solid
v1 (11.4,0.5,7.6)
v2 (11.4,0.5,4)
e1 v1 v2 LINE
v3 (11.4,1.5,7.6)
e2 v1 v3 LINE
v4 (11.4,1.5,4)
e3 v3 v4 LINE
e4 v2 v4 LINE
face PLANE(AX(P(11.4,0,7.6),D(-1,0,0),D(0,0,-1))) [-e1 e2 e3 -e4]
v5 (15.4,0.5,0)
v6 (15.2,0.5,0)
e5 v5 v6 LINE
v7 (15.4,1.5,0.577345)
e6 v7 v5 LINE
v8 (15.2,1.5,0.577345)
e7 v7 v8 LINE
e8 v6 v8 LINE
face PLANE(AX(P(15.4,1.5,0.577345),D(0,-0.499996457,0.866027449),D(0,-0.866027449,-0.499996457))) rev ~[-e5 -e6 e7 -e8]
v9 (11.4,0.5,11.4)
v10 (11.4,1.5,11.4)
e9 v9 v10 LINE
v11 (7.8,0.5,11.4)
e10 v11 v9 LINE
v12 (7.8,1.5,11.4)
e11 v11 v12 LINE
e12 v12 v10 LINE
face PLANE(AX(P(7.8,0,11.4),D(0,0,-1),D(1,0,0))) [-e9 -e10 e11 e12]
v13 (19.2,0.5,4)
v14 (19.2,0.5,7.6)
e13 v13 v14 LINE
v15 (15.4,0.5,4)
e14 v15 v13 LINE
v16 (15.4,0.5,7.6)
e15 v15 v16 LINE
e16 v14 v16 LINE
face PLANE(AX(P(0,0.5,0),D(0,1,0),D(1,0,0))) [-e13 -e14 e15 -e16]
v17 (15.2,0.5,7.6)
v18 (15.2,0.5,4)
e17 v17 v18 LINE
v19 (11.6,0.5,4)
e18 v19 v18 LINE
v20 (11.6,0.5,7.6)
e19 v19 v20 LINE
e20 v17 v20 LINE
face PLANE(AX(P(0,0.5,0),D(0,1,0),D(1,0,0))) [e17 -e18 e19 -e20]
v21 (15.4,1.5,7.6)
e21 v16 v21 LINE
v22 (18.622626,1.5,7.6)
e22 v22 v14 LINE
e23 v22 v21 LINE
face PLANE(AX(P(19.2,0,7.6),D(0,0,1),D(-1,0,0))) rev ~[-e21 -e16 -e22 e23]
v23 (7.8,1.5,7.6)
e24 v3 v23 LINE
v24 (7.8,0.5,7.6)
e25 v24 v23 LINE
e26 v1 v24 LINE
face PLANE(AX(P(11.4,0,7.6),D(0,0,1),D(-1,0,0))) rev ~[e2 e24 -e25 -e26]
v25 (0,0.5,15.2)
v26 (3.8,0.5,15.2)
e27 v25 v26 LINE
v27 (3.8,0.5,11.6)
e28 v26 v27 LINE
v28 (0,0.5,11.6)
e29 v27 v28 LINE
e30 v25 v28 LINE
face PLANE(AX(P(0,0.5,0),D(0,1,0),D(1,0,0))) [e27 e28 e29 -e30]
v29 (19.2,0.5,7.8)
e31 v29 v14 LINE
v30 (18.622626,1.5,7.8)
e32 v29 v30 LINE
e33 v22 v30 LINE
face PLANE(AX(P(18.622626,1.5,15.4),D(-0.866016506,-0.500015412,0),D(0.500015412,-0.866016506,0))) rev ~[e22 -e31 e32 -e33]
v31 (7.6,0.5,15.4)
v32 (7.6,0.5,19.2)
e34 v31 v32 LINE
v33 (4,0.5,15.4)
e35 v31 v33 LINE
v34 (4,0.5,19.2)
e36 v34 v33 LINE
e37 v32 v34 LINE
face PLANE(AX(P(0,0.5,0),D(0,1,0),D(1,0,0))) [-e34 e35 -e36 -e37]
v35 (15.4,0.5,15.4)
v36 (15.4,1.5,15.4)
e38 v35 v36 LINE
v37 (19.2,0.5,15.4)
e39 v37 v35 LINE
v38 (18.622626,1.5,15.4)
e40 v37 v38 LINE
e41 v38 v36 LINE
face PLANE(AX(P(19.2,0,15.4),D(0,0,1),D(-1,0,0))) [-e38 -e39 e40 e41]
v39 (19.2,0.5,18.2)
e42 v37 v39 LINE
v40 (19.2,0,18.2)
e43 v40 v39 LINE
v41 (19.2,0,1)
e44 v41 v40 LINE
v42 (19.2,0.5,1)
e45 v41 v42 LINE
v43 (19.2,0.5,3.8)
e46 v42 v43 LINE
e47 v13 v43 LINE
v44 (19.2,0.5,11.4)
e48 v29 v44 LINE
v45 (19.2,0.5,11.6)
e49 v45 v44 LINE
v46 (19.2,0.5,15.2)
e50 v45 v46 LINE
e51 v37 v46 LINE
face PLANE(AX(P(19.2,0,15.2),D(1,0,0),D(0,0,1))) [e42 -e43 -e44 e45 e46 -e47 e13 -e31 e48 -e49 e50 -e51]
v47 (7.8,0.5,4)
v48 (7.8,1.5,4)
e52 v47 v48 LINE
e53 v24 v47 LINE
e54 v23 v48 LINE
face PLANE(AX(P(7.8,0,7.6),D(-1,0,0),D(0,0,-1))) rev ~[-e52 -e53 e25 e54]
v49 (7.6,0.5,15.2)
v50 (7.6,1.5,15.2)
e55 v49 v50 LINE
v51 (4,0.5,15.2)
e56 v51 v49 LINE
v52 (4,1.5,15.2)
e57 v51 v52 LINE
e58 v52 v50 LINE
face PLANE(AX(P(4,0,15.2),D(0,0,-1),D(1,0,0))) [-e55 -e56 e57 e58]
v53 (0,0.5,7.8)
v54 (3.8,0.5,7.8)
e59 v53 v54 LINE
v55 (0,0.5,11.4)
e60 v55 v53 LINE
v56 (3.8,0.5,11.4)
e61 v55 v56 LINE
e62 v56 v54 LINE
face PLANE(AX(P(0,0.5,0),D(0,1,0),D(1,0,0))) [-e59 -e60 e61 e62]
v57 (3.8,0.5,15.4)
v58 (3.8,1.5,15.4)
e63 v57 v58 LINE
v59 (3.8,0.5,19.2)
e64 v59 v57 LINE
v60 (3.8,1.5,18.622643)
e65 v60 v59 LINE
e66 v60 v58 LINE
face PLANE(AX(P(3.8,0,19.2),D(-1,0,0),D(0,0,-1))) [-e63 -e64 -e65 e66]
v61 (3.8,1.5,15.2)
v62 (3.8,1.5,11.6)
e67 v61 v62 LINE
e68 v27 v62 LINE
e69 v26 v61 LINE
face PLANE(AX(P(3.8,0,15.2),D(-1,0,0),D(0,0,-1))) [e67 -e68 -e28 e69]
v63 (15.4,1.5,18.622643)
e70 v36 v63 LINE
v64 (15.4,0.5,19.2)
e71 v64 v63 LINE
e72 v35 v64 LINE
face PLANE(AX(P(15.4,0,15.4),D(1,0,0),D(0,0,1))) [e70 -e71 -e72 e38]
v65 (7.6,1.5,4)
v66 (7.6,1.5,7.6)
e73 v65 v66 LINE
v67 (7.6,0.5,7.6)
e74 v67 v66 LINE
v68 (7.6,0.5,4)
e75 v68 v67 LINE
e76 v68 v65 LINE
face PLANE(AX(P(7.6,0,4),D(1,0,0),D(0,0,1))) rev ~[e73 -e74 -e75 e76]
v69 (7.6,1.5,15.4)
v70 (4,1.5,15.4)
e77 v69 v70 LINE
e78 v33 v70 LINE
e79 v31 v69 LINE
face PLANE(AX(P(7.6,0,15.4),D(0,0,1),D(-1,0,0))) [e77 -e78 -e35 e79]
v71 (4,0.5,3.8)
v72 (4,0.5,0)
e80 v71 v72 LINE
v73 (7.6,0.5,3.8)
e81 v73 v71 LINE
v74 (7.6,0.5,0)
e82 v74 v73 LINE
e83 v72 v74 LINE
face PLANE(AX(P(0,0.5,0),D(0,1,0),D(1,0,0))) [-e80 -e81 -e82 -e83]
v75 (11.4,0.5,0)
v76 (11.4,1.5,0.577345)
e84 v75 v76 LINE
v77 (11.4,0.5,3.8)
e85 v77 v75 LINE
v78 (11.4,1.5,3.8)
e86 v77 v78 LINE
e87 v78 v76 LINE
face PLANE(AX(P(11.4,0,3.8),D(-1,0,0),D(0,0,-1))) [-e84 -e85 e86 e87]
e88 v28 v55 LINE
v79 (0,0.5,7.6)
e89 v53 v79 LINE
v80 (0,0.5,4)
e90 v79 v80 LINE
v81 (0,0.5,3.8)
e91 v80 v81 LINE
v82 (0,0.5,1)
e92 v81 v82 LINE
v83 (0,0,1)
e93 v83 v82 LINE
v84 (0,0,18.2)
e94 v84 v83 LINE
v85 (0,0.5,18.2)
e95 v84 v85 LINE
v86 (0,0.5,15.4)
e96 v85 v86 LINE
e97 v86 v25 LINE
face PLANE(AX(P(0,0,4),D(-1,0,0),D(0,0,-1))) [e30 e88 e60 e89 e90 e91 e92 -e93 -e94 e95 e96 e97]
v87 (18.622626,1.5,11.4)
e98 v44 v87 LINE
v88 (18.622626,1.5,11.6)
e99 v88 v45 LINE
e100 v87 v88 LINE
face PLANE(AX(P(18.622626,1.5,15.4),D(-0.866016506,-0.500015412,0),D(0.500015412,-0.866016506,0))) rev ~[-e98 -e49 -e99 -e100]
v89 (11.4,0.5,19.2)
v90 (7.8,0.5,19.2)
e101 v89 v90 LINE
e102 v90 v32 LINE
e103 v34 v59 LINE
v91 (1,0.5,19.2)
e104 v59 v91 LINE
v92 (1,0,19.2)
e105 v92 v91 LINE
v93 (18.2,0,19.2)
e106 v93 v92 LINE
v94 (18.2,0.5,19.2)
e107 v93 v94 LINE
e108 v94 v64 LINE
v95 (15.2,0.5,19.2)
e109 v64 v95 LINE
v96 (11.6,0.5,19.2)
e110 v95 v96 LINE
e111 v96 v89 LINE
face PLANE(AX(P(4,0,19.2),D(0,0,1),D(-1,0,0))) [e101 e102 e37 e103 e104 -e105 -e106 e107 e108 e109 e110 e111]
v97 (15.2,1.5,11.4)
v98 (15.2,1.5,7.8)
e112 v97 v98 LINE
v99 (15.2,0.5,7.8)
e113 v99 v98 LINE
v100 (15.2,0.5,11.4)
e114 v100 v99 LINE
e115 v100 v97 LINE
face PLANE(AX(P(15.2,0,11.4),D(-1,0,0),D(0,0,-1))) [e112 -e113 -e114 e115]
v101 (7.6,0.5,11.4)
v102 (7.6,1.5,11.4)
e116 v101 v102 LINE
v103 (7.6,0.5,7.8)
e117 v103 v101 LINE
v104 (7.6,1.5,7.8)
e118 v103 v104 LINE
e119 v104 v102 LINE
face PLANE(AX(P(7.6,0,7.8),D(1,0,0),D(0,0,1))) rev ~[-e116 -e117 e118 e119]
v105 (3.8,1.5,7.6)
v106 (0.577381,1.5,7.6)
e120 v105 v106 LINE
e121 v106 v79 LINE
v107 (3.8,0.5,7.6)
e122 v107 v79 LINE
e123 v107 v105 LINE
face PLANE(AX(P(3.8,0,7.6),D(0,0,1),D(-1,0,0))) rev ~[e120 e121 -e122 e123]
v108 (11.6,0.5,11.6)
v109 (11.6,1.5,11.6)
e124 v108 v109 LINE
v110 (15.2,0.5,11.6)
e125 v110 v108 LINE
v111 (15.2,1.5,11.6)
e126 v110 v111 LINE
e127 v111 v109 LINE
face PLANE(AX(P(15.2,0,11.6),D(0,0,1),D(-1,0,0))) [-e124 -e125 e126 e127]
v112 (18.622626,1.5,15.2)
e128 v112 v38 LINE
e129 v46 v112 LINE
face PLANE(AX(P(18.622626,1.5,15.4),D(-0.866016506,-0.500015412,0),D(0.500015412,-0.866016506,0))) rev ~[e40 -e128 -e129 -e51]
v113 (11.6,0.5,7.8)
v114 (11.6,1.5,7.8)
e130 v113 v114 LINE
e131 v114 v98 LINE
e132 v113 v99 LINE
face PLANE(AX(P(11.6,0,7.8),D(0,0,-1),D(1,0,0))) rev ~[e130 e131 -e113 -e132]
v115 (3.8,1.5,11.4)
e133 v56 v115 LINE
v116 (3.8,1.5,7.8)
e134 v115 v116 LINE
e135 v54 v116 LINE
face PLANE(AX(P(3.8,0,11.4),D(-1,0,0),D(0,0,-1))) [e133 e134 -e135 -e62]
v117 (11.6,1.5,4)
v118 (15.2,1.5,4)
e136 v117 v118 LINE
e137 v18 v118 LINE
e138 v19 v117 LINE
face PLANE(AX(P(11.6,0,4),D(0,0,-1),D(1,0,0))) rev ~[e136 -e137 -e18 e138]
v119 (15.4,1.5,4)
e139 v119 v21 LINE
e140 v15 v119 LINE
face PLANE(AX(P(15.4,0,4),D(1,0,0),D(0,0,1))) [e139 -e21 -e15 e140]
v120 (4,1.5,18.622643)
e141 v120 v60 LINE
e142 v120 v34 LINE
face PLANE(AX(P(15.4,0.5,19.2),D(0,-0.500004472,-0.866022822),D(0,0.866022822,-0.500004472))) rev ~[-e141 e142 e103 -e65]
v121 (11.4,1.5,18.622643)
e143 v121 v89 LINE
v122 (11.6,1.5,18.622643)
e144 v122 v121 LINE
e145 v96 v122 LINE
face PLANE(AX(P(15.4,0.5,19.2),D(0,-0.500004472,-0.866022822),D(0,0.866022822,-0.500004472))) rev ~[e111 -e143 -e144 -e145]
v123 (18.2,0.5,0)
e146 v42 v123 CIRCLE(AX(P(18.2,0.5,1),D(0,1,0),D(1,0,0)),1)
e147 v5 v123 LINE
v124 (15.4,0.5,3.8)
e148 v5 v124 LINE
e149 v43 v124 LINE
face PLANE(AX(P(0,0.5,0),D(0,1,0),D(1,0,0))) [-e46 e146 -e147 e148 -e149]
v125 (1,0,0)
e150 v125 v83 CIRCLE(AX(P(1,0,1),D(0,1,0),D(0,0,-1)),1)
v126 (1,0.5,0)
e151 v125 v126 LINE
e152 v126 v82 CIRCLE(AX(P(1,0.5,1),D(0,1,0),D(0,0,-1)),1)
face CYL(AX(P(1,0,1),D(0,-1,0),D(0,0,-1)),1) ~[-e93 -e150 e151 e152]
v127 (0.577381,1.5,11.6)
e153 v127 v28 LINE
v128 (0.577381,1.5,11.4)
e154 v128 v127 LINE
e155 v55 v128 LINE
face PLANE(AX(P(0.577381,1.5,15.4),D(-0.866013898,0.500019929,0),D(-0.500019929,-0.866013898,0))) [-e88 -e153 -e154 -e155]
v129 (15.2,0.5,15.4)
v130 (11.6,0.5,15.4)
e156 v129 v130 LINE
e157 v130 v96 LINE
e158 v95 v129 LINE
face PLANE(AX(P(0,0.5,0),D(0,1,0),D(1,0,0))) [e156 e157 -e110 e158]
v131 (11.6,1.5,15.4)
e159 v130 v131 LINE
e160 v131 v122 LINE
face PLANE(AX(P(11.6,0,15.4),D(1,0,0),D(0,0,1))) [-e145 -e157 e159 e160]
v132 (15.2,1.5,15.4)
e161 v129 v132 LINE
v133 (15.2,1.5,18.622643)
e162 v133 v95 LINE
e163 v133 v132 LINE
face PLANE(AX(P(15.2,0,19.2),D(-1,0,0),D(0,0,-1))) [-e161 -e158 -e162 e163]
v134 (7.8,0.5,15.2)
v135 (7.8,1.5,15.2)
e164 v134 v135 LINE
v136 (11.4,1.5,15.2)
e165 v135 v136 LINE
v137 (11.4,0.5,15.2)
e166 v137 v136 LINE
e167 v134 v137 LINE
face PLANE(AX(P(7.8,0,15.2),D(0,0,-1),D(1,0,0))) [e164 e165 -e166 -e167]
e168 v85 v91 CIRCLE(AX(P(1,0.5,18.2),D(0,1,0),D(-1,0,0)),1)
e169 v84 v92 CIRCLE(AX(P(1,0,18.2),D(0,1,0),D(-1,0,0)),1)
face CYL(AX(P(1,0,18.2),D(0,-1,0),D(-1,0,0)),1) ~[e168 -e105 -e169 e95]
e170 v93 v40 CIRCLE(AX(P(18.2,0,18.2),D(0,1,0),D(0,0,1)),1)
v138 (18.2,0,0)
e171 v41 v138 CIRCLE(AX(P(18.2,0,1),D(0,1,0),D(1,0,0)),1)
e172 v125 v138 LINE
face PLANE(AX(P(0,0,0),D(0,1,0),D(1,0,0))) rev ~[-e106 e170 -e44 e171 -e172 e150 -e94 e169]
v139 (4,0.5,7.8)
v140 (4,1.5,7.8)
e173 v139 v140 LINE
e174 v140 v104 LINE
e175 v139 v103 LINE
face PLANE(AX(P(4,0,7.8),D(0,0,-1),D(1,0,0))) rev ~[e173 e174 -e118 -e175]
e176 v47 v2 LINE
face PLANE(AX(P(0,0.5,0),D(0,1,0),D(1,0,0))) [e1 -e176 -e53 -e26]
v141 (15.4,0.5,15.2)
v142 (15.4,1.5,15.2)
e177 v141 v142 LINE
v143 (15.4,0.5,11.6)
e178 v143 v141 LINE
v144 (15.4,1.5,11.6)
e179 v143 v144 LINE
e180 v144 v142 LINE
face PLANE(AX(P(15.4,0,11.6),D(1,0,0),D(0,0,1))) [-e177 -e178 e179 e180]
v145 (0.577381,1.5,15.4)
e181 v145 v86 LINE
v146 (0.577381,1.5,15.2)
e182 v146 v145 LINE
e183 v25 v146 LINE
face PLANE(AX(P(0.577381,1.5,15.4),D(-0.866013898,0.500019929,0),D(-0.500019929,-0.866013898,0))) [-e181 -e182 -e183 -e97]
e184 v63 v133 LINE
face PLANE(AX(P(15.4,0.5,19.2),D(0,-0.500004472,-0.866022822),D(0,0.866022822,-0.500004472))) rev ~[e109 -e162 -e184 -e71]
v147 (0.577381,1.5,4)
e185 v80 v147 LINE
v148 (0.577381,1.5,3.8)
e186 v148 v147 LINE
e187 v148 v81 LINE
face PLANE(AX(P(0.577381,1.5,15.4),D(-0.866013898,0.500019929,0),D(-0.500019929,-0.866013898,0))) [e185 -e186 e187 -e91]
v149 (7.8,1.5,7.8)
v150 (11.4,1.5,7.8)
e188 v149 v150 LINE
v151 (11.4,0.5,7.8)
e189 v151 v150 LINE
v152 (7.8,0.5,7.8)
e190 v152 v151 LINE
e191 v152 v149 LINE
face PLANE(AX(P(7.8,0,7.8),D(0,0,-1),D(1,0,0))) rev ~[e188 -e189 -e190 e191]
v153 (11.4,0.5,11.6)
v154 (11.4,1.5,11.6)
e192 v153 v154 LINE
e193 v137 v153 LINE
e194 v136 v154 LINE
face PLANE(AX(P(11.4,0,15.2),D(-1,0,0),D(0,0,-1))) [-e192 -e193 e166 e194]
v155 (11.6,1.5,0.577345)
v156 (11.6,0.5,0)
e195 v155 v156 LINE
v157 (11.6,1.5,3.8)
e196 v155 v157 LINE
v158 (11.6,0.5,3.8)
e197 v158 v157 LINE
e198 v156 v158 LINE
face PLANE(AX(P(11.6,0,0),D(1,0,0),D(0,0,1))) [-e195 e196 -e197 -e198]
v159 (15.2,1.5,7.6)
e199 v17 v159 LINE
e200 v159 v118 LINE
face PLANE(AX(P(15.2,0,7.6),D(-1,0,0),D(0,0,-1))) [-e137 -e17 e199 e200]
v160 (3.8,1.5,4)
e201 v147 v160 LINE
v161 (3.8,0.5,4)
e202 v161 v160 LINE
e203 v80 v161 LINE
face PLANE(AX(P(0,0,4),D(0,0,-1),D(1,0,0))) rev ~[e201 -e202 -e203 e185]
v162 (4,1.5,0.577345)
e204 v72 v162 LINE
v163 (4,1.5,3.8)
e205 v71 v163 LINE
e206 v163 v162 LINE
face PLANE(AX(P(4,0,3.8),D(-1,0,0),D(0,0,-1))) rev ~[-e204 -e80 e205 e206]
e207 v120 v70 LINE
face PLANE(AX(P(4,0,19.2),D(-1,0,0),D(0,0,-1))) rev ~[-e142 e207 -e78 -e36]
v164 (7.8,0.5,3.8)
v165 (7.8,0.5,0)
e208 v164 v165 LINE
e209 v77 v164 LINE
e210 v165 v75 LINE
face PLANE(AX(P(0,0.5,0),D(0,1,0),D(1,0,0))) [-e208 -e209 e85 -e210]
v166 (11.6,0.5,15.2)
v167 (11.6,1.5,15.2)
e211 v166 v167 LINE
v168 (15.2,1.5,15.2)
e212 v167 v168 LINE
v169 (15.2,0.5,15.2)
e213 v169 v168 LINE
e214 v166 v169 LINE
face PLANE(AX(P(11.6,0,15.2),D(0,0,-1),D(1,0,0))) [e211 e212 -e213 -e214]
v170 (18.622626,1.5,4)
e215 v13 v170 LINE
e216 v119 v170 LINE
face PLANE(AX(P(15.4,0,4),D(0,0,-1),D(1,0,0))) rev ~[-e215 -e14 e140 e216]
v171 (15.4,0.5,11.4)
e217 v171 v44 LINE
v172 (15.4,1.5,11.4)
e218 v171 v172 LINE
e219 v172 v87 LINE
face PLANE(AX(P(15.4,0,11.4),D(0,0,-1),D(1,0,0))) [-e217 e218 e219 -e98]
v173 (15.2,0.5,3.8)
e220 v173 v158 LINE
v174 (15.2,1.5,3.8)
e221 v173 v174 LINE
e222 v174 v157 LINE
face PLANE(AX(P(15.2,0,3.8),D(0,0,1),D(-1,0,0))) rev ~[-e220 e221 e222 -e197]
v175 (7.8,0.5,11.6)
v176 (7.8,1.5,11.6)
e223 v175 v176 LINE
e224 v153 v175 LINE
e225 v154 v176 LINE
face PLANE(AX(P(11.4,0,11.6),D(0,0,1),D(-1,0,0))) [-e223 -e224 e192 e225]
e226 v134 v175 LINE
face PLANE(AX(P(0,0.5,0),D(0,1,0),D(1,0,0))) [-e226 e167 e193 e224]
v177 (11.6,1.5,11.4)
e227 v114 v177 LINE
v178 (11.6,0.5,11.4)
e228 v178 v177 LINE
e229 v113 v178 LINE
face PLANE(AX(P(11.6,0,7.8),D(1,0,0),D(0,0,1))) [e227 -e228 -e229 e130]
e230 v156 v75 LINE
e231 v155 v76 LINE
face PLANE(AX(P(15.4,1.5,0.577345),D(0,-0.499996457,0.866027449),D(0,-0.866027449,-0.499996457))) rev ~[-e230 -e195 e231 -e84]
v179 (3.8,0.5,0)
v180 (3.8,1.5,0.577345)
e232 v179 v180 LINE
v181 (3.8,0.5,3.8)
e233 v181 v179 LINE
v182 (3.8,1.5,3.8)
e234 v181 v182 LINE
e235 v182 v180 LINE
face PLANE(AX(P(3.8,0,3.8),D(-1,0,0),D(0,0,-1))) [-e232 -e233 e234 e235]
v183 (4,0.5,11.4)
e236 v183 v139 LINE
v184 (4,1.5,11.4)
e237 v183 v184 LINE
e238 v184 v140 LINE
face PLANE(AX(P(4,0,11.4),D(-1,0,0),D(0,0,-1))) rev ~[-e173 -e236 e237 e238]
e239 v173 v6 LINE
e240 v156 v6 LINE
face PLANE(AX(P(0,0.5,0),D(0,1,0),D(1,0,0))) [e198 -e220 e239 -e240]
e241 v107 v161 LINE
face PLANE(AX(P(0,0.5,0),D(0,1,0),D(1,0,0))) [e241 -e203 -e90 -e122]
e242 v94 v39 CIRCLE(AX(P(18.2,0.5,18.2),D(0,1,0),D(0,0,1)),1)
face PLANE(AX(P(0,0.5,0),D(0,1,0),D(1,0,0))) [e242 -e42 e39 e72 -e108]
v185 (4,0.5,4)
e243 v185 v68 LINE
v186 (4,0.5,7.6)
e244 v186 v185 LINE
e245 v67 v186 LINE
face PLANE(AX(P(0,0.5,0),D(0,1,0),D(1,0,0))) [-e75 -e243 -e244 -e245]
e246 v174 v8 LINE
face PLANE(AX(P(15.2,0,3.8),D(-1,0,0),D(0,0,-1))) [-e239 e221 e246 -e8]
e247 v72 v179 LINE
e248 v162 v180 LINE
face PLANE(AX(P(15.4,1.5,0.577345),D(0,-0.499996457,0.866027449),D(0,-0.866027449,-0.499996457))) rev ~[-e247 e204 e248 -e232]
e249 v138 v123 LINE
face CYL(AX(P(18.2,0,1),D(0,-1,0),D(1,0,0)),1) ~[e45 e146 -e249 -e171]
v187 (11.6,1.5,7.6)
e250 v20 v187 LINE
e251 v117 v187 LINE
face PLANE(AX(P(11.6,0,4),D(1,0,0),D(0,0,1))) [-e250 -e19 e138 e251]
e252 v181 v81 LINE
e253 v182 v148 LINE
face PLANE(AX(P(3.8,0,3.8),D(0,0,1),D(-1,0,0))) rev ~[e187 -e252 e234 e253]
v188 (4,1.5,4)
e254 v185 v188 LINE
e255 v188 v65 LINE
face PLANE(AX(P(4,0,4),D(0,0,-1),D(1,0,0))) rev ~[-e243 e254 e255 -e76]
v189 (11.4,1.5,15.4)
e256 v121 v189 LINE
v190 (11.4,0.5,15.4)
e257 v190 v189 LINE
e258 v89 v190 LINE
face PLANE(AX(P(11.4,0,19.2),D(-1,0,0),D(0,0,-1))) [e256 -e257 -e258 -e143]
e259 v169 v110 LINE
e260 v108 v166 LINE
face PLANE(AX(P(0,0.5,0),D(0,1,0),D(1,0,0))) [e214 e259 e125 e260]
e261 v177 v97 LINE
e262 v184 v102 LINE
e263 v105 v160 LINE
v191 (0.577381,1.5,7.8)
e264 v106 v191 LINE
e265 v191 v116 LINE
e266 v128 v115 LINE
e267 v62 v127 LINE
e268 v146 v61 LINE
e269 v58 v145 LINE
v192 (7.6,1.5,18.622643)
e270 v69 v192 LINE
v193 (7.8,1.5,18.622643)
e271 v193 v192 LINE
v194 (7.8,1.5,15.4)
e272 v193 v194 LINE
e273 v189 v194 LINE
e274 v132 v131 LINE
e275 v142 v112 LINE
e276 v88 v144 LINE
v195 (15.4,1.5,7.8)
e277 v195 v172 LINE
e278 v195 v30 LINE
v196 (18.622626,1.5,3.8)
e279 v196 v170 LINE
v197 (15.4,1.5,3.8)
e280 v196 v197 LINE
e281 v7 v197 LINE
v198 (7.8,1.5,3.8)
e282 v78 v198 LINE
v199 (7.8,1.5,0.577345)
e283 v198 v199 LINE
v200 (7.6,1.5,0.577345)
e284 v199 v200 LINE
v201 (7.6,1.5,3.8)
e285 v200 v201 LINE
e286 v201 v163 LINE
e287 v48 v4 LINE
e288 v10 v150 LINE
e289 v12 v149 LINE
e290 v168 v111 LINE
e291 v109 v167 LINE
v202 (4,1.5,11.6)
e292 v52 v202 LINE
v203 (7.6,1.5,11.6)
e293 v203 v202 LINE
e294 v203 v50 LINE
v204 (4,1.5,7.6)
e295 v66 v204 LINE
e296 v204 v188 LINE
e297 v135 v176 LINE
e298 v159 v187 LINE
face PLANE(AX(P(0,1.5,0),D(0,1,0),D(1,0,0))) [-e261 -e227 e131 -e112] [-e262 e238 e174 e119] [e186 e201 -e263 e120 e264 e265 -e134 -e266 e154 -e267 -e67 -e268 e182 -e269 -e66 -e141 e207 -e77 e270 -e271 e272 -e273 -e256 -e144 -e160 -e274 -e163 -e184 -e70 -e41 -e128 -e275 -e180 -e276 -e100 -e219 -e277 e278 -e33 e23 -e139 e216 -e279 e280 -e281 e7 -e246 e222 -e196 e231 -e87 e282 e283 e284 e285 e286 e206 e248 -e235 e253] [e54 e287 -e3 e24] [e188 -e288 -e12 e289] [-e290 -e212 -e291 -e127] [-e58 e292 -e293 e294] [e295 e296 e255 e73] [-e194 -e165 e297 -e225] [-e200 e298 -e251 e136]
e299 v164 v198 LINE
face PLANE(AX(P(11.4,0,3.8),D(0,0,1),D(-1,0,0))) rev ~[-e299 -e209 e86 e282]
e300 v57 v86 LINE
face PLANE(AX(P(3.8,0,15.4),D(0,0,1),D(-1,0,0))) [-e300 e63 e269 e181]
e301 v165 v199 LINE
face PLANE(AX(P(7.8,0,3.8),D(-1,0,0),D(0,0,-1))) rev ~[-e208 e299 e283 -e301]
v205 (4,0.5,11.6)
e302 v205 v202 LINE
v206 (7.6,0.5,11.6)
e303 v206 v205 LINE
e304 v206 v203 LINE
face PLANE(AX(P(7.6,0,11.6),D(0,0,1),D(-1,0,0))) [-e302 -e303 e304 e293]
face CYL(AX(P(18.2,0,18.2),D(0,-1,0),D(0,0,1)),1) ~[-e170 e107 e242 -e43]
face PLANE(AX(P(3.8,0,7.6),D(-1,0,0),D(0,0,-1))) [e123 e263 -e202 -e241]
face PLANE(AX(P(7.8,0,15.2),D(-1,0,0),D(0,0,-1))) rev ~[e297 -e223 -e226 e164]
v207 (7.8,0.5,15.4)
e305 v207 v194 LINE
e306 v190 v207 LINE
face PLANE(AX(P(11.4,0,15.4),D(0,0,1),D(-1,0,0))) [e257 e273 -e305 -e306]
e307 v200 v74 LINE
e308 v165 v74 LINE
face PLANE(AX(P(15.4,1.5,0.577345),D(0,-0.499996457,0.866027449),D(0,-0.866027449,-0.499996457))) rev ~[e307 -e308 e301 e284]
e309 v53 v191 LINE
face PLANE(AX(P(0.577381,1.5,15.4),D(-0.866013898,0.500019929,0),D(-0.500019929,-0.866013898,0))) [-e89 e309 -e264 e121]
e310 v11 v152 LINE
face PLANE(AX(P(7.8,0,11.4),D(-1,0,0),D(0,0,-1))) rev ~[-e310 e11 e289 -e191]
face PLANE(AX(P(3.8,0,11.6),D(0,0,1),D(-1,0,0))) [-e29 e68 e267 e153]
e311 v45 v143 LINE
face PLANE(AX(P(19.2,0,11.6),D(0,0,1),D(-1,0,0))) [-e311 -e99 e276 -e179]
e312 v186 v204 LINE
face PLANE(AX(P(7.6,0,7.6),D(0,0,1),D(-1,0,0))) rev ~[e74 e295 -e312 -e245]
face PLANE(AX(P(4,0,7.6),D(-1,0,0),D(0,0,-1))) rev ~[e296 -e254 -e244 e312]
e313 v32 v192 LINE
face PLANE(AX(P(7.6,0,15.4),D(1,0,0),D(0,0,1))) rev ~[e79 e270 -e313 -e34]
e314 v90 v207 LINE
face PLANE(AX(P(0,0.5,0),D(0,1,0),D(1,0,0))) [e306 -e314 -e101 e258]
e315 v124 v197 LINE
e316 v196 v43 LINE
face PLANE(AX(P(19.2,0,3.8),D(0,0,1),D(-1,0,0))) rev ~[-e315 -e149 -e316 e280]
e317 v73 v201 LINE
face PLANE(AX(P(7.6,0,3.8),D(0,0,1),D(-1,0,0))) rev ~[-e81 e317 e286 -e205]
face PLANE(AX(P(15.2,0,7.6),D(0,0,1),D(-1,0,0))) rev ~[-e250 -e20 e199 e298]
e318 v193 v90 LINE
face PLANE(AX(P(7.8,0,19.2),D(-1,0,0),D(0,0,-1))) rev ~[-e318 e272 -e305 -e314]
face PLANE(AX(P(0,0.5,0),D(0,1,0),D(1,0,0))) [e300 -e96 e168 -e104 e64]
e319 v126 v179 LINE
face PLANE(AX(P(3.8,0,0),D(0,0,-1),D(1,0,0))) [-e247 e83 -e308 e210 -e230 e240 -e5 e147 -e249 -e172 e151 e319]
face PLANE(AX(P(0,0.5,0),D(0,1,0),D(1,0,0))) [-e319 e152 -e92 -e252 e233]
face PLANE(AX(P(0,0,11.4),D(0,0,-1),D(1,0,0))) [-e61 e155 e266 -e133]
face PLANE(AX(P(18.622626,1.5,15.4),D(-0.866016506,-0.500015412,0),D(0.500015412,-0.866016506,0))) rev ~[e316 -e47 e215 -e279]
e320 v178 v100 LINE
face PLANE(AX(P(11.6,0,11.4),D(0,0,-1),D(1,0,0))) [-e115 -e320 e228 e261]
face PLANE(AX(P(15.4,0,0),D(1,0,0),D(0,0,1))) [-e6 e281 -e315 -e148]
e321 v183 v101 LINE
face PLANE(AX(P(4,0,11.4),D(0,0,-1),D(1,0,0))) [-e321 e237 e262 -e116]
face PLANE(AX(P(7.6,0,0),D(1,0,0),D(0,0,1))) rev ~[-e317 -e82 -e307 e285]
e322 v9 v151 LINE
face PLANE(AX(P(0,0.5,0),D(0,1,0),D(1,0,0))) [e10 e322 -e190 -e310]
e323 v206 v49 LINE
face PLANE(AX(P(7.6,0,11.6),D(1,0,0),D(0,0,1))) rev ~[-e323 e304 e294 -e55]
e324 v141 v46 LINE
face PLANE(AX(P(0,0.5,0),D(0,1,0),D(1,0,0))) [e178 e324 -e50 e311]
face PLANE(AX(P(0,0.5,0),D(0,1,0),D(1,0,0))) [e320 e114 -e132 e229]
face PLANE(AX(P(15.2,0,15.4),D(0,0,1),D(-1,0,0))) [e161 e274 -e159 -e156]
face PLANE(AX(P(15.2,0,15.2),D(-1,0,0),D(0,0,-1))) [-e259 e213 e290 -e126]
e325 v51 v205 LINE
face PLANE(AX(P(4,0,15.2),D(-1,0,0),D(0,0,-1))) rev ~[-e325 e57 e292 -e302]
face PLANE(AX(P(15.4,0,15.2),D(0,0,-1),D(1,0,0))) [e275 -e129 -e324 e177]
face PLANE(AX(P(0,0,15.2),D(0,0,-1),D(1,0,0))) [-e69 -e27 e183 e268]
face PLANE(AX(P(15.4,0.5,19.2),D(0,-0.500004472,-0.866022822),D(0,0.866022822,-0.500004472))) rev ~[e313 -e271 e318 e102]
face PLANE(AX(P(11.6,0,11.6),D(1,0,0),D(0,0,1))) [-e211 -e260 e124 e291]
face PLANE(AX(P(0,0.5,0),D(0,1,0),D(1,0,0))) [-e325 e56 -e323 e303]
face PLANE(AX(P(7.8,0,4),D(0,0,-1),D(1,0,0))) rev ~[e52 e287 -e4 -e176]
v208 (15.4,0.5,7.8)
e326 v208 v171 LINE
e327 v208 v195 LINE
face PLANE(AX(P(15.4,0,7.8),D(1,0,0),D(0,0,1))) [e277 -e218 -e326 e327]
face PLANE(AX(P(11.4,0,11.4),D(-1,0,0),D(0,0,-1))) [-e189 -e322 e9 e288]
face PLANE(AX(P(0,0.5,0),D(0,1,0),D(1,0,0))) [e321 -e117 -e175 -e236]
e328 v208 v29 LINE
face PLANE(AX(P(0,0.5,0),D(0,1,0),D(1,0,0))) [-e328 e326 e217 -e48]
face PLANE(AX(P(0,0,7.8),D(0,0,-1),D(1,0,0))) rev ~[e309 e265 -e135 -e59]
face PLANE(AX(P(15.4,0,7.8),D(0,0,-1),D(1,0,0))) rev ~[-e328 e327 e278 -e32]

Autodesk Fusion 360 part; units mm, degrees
sketch "スケッチ1" plane through (0, 0, 0) normal (0, 1, 0) x (1, 0, 0)
  line L0 (1, 0) -> (18.2, 0)
  line L1 (19.2, -1) -> (19.2, -18.2)
  line L2 (18.2, -19.2) -> (1, -19.2)
  line L3 (0, -18.2) -> (0, -1)
  line L4 (3.8, -19.2) -> (3.8, 0)
  line L5 (4, -19.2) -> (4, 0)
  line L6 (7.6, 0) -> (7.6, -19.2)
  line L7 (7.8, -19.2) -> (7.8, 0)
  line L8 (19.2, -3.8) -> (0, -3.8)
  line L9 (0, -4) -> (19.2, -4)
  line L10 (19.2, -7.6) -> (0, -7.6)
  line L11 (0, -7.8) -> (19.2, -7.8)
  line L12 (0, -11.4) -> (19.2, -11.4)
  line L13 (19.2, -11.6) -> (0, -11.6)
  line L14 (0, -15.2) -> (19.2, -15.2)
  line L15 (19.2, -15.4) -> (0, -15.4)
  line L16 (11.4, -19.2) -> (11.4, 0)
  line L17 (11.6, 0) -> (11.6, -19.2)
  line L18 (15.2, -19.2) -> (15.2, 0)
  line L19 (15.4, 0) -> (15.4, -19.2)
  arc A0 (18.2, -19.2) -> (19.2, -18.2) centre (18.2, -18.2) ccw
  arc A1 (19.2, -1) -> (18.2, 0) centre (18.2, -1) ccw
  arc A2 (1, 0) -> (0, -1) centre (1, -1) ccw
  arc A3 (0, -18.2) -> (1, -19.2) centre (1, -18.2) ccw
  line L20 (-20.3302, 0) -> (25.6829, 0) construction
  line L21 (0, -22.3952) -> (0, 11.1848) construction
  dimension "d3" = 3.8
  dimension "d5" = 3.6
  dimension "d6" = 0.2
  dimension "d7" = 3.8
  dimension "d8" = 0.2
  dimension "d9" = 3.6
  dimension "d10" = 0.2
  dimension "d11" = 0.2
  dimension "d12" = 3.6
  dimension "d13" = 0.2
  dimension "d14" = 3.6
  dimension "d15" = 0.2
  dimension "d16" = 3.6
  dimension "d17" = 0.2
  dimension "d18" = 0.2
  dimension "d19" = 3.6
  dimension "d24" = 3.8
  dimension "d25" = 3.8
  dimension "d34" = 1
extrude "押し出し1" add sketch "スケッチ1" along normal blind 0.5 contours L0 L3 L4 L8 A2 | L0 L5 L6 L8 | L3 L4 L9 L10 | L0 L7 L8 L16 | L5 L6 L9 L10 | L3 L4 L11 L12 | L0 L8 L17 L18 | L7 L9 L10 L16 | L5 L6 L11 L12 | L3 L4 L13 L14 | L0 L1 L8 L19 A1 | L9 L10 L17 L18 | L7 L11 L12 L16 | L5 L6 L13 L14 | L2 L3 L4 L15 A3 | L1 L9 L10 L19 | L11 L12 L17 L18 | L7 L13 L14 L16 | L2 L5 L6 L15 | L1 L11 L12 L19 | L13 L14 L17 L18 | L2 L7 L15 L16 | L1 L13 L14 L19 | L2 L15 L17 L18 | L1 L2 L15 L19 A0 makes body 1 at (9, 0, 5.2) makes body 2 at (17.9333, 0, 2.8667) makes body 3 at (9, 0, 2.5333) makes body 4 at (10.2, 0, 14) makes body 5 at (5.2, 0, 5.2) makes body 6 at (1.2667, 0, 9) makes body 7 at (2.5333, 0, 14) makes body 8 at (6.4, 0, 1.2667) makes body 9 at (6.4, 0, 14) makes body 10 at (9, 0, 9) makes body 11 at (12.8, 0, 5.2) makes body 12 at (16.6667, 0, 9) makes body 13 at (14, 0, 14) makes body 14 at (12.8, 0, 9) makes body 15 at (12.8, 0, 2.5333) makes body 16 at (1.2667, 0, 5.2) makes body 17 at (5.2, 0, 9) makes body 18 at (16.6667, 0, 5.2) makes body 19 at (1.2667, 0, 16.3333) makes body 20 at (2.8667, 0, 1.2667) makes body 21 at (17.9333, 0, 14) makes body 22 at (17.9333, 0, 16.3333) makes body 23 at (9, 0, 17.9333) makes body 24 at (5.2, 0, 16.6667) makes body 25 at (12.8, 0, 17.9333)
extrude "押し出し2" add sketch "スケッチ1" along normal blind 1.5 contours L0 L4 L5 L8 | L4 L5 L8 L9 | L3 L4 L8 L9 | L0 L6 L7 L8 | L5 L6 L8 L9 | L4 L5 L9 L10 | L6 L7 L8 L9 | L4 L5 L10 L11 | L3 L4 L10 L11 | L0 L8 L16 L17 | L7 L8 L9 L16 | L6 L7 L9 L10 | L5 L6 L10 L11 | L4 L5 L11 L12 | L8 L9 L16 L17 | L6 L7 L10 L11 | L4 L5 L12 L13 | L3 L4 L12 L13 | L0 L8 L18 L19 | L8 L9 L17 L18 | L9 L10 L16 L17 | L7 L10 L11 L16 | L6 L7 L11 L12 | L5 L6 L12 L13 | L4 L5 L13 L14 | L8 L9 L18 L19 | L10 L11 L16 L17 | L6 L7 L12 L13 | L4 L5 L14 L15 | L3 L4 L14 L15 | L1 L8 L9 L19 | L9 L10 L18 L19 | L10 L11 L17 L18 | L11 L12 L16 L17 | L7 L12 L13 L16 | L6 L7 L13 L14 | L5 L6 L14 L15 | L2 L4 L5 L15 | L10 L11 L18 L19 | L12 L13 L16 L17 | L6 L7 L14 L15 | L1 L10 L11 L19 | L11 L12 L18 L19 | L12 L13 L17 L18 | L13 L14 L16 L17 | L7 L14 L15 L16 | L2 L6 L7 L15 | L12 L13 L18 L19 | L14 L15 L16 L17 | L1 L12 L13 L19 | L13 L14 L18 L19 | L14 L15 L17 L18 | L2 L15 L16 L17 | L14 L15 L18 L19 | L1 L14 L15 L19 | L2 L15 L18 L19 bodies 1 2 3 4 5 6 7 8 9 10 11 12 13 14 15 16 17 18 19 20 21 22 23 24 25
sketch "スケッチ5" plane through (15.4, 0, 0) normal (1, 0, 0) x (0, 0, -1)
  line L0 (-19.2, 0.5) -> (-15.4, 0.5)
  line L1 (-15.4, 0.5) -> (-15.4, 1.5)
  line L2 (-15.4, 1.5) -> (-19.2, 1.5)
  line L3 (-19.2, 1.5) -> (-19.2, 0.5)
  line L4 (-19.2, 0.5) -> (-16.9184, 4.4518)
  line L5 (-16.9184, 4.4518) -> (-19.2, 4.4518)
  line L6 (-19.2, 4.4518) -> (-19.2, 0.5)
  dimension "d35" = 30
sketch "スケッチ6" plane through (15.4, 0, 0) normal (1, 0, 0) x (0, 0, -1)
  line L0 (-3.8, 0.5) -> (0, 0.5)
  line L1 (0, 0.5) -> (0, 1.5)
  line L2 (0, 1.5) -> (-3.8, 1.5)
  line L3 (-3.8, 1.5) -> (-3.8, 0.5)
  line L4 (0, 0.5) -> (0, 4.8319)
  line L5 (0, 4.8319) -> (-2.501, 4.8319)
  line L6 (-2.501, 4.8319) -> (0, 0.5)
  dimension "d36" = 30
extrude "押し出し5" cut sketch "スケッチ6" sketch "スケッチ5" against normal blind 14.5 contours L1 L2 L4 L6 of sketch 2 contours L2 L3 L4 L6 bodies 1
sketch "スケッチ3" plane through (0, 0, 15.4) normal (0, 0, 1) x (1, 0, 0)
  line L0 (0, 0.5) -> (3.8, 0.5)
  line L1 (3.8, 0.5) -> (3.8, 1.5)
  line L2 (3.8, 1.5) -> (0, 1.5)
  line L3 (0, 1.5) -> (0, 0.5)
  line L4 (0, 0.5) -> (0, 2.6672)
  line L5 (0, 2.6672) -> (1.2513, 2.6672)
  line L6 (1.2513, 2.6672) -> (0, 0.5)
  dimension "d30" = 30
sketch "スケッチ4" plane through (0, 0, 15.4) normal (0, 0, 1) x (1, 0, 0)
  line L0 (15.4, 0.5) -> (19.2, 0.5)
  line L1 (19.2, 0.5) -> (19.2, 1.5)
  line L2 (19.2, 1.5) -> (15.4, 1.5)
  line L3 (15.4, 1.5) -> (15.4, 0.5)
  line L4 (19.2, 0.5) -> (19.2, 2.9821)
  line L5 (19.2, 2.9821) -> (17.7669, 2.9821)
  line L6 (17.7669, 2.9821) -> (19.2, 0.5)
  dimension "d31" = 30
extrude "押し出し4" cut sketch "スケッチ3" sketch "スケッチ4" against normal blind 13 contours L2 L3 L4 L6 | L2 L4 L5 L6 of sketch 2 contours L1 L2 L4 L6 | L2 L4 L5 L6 bodies 1
